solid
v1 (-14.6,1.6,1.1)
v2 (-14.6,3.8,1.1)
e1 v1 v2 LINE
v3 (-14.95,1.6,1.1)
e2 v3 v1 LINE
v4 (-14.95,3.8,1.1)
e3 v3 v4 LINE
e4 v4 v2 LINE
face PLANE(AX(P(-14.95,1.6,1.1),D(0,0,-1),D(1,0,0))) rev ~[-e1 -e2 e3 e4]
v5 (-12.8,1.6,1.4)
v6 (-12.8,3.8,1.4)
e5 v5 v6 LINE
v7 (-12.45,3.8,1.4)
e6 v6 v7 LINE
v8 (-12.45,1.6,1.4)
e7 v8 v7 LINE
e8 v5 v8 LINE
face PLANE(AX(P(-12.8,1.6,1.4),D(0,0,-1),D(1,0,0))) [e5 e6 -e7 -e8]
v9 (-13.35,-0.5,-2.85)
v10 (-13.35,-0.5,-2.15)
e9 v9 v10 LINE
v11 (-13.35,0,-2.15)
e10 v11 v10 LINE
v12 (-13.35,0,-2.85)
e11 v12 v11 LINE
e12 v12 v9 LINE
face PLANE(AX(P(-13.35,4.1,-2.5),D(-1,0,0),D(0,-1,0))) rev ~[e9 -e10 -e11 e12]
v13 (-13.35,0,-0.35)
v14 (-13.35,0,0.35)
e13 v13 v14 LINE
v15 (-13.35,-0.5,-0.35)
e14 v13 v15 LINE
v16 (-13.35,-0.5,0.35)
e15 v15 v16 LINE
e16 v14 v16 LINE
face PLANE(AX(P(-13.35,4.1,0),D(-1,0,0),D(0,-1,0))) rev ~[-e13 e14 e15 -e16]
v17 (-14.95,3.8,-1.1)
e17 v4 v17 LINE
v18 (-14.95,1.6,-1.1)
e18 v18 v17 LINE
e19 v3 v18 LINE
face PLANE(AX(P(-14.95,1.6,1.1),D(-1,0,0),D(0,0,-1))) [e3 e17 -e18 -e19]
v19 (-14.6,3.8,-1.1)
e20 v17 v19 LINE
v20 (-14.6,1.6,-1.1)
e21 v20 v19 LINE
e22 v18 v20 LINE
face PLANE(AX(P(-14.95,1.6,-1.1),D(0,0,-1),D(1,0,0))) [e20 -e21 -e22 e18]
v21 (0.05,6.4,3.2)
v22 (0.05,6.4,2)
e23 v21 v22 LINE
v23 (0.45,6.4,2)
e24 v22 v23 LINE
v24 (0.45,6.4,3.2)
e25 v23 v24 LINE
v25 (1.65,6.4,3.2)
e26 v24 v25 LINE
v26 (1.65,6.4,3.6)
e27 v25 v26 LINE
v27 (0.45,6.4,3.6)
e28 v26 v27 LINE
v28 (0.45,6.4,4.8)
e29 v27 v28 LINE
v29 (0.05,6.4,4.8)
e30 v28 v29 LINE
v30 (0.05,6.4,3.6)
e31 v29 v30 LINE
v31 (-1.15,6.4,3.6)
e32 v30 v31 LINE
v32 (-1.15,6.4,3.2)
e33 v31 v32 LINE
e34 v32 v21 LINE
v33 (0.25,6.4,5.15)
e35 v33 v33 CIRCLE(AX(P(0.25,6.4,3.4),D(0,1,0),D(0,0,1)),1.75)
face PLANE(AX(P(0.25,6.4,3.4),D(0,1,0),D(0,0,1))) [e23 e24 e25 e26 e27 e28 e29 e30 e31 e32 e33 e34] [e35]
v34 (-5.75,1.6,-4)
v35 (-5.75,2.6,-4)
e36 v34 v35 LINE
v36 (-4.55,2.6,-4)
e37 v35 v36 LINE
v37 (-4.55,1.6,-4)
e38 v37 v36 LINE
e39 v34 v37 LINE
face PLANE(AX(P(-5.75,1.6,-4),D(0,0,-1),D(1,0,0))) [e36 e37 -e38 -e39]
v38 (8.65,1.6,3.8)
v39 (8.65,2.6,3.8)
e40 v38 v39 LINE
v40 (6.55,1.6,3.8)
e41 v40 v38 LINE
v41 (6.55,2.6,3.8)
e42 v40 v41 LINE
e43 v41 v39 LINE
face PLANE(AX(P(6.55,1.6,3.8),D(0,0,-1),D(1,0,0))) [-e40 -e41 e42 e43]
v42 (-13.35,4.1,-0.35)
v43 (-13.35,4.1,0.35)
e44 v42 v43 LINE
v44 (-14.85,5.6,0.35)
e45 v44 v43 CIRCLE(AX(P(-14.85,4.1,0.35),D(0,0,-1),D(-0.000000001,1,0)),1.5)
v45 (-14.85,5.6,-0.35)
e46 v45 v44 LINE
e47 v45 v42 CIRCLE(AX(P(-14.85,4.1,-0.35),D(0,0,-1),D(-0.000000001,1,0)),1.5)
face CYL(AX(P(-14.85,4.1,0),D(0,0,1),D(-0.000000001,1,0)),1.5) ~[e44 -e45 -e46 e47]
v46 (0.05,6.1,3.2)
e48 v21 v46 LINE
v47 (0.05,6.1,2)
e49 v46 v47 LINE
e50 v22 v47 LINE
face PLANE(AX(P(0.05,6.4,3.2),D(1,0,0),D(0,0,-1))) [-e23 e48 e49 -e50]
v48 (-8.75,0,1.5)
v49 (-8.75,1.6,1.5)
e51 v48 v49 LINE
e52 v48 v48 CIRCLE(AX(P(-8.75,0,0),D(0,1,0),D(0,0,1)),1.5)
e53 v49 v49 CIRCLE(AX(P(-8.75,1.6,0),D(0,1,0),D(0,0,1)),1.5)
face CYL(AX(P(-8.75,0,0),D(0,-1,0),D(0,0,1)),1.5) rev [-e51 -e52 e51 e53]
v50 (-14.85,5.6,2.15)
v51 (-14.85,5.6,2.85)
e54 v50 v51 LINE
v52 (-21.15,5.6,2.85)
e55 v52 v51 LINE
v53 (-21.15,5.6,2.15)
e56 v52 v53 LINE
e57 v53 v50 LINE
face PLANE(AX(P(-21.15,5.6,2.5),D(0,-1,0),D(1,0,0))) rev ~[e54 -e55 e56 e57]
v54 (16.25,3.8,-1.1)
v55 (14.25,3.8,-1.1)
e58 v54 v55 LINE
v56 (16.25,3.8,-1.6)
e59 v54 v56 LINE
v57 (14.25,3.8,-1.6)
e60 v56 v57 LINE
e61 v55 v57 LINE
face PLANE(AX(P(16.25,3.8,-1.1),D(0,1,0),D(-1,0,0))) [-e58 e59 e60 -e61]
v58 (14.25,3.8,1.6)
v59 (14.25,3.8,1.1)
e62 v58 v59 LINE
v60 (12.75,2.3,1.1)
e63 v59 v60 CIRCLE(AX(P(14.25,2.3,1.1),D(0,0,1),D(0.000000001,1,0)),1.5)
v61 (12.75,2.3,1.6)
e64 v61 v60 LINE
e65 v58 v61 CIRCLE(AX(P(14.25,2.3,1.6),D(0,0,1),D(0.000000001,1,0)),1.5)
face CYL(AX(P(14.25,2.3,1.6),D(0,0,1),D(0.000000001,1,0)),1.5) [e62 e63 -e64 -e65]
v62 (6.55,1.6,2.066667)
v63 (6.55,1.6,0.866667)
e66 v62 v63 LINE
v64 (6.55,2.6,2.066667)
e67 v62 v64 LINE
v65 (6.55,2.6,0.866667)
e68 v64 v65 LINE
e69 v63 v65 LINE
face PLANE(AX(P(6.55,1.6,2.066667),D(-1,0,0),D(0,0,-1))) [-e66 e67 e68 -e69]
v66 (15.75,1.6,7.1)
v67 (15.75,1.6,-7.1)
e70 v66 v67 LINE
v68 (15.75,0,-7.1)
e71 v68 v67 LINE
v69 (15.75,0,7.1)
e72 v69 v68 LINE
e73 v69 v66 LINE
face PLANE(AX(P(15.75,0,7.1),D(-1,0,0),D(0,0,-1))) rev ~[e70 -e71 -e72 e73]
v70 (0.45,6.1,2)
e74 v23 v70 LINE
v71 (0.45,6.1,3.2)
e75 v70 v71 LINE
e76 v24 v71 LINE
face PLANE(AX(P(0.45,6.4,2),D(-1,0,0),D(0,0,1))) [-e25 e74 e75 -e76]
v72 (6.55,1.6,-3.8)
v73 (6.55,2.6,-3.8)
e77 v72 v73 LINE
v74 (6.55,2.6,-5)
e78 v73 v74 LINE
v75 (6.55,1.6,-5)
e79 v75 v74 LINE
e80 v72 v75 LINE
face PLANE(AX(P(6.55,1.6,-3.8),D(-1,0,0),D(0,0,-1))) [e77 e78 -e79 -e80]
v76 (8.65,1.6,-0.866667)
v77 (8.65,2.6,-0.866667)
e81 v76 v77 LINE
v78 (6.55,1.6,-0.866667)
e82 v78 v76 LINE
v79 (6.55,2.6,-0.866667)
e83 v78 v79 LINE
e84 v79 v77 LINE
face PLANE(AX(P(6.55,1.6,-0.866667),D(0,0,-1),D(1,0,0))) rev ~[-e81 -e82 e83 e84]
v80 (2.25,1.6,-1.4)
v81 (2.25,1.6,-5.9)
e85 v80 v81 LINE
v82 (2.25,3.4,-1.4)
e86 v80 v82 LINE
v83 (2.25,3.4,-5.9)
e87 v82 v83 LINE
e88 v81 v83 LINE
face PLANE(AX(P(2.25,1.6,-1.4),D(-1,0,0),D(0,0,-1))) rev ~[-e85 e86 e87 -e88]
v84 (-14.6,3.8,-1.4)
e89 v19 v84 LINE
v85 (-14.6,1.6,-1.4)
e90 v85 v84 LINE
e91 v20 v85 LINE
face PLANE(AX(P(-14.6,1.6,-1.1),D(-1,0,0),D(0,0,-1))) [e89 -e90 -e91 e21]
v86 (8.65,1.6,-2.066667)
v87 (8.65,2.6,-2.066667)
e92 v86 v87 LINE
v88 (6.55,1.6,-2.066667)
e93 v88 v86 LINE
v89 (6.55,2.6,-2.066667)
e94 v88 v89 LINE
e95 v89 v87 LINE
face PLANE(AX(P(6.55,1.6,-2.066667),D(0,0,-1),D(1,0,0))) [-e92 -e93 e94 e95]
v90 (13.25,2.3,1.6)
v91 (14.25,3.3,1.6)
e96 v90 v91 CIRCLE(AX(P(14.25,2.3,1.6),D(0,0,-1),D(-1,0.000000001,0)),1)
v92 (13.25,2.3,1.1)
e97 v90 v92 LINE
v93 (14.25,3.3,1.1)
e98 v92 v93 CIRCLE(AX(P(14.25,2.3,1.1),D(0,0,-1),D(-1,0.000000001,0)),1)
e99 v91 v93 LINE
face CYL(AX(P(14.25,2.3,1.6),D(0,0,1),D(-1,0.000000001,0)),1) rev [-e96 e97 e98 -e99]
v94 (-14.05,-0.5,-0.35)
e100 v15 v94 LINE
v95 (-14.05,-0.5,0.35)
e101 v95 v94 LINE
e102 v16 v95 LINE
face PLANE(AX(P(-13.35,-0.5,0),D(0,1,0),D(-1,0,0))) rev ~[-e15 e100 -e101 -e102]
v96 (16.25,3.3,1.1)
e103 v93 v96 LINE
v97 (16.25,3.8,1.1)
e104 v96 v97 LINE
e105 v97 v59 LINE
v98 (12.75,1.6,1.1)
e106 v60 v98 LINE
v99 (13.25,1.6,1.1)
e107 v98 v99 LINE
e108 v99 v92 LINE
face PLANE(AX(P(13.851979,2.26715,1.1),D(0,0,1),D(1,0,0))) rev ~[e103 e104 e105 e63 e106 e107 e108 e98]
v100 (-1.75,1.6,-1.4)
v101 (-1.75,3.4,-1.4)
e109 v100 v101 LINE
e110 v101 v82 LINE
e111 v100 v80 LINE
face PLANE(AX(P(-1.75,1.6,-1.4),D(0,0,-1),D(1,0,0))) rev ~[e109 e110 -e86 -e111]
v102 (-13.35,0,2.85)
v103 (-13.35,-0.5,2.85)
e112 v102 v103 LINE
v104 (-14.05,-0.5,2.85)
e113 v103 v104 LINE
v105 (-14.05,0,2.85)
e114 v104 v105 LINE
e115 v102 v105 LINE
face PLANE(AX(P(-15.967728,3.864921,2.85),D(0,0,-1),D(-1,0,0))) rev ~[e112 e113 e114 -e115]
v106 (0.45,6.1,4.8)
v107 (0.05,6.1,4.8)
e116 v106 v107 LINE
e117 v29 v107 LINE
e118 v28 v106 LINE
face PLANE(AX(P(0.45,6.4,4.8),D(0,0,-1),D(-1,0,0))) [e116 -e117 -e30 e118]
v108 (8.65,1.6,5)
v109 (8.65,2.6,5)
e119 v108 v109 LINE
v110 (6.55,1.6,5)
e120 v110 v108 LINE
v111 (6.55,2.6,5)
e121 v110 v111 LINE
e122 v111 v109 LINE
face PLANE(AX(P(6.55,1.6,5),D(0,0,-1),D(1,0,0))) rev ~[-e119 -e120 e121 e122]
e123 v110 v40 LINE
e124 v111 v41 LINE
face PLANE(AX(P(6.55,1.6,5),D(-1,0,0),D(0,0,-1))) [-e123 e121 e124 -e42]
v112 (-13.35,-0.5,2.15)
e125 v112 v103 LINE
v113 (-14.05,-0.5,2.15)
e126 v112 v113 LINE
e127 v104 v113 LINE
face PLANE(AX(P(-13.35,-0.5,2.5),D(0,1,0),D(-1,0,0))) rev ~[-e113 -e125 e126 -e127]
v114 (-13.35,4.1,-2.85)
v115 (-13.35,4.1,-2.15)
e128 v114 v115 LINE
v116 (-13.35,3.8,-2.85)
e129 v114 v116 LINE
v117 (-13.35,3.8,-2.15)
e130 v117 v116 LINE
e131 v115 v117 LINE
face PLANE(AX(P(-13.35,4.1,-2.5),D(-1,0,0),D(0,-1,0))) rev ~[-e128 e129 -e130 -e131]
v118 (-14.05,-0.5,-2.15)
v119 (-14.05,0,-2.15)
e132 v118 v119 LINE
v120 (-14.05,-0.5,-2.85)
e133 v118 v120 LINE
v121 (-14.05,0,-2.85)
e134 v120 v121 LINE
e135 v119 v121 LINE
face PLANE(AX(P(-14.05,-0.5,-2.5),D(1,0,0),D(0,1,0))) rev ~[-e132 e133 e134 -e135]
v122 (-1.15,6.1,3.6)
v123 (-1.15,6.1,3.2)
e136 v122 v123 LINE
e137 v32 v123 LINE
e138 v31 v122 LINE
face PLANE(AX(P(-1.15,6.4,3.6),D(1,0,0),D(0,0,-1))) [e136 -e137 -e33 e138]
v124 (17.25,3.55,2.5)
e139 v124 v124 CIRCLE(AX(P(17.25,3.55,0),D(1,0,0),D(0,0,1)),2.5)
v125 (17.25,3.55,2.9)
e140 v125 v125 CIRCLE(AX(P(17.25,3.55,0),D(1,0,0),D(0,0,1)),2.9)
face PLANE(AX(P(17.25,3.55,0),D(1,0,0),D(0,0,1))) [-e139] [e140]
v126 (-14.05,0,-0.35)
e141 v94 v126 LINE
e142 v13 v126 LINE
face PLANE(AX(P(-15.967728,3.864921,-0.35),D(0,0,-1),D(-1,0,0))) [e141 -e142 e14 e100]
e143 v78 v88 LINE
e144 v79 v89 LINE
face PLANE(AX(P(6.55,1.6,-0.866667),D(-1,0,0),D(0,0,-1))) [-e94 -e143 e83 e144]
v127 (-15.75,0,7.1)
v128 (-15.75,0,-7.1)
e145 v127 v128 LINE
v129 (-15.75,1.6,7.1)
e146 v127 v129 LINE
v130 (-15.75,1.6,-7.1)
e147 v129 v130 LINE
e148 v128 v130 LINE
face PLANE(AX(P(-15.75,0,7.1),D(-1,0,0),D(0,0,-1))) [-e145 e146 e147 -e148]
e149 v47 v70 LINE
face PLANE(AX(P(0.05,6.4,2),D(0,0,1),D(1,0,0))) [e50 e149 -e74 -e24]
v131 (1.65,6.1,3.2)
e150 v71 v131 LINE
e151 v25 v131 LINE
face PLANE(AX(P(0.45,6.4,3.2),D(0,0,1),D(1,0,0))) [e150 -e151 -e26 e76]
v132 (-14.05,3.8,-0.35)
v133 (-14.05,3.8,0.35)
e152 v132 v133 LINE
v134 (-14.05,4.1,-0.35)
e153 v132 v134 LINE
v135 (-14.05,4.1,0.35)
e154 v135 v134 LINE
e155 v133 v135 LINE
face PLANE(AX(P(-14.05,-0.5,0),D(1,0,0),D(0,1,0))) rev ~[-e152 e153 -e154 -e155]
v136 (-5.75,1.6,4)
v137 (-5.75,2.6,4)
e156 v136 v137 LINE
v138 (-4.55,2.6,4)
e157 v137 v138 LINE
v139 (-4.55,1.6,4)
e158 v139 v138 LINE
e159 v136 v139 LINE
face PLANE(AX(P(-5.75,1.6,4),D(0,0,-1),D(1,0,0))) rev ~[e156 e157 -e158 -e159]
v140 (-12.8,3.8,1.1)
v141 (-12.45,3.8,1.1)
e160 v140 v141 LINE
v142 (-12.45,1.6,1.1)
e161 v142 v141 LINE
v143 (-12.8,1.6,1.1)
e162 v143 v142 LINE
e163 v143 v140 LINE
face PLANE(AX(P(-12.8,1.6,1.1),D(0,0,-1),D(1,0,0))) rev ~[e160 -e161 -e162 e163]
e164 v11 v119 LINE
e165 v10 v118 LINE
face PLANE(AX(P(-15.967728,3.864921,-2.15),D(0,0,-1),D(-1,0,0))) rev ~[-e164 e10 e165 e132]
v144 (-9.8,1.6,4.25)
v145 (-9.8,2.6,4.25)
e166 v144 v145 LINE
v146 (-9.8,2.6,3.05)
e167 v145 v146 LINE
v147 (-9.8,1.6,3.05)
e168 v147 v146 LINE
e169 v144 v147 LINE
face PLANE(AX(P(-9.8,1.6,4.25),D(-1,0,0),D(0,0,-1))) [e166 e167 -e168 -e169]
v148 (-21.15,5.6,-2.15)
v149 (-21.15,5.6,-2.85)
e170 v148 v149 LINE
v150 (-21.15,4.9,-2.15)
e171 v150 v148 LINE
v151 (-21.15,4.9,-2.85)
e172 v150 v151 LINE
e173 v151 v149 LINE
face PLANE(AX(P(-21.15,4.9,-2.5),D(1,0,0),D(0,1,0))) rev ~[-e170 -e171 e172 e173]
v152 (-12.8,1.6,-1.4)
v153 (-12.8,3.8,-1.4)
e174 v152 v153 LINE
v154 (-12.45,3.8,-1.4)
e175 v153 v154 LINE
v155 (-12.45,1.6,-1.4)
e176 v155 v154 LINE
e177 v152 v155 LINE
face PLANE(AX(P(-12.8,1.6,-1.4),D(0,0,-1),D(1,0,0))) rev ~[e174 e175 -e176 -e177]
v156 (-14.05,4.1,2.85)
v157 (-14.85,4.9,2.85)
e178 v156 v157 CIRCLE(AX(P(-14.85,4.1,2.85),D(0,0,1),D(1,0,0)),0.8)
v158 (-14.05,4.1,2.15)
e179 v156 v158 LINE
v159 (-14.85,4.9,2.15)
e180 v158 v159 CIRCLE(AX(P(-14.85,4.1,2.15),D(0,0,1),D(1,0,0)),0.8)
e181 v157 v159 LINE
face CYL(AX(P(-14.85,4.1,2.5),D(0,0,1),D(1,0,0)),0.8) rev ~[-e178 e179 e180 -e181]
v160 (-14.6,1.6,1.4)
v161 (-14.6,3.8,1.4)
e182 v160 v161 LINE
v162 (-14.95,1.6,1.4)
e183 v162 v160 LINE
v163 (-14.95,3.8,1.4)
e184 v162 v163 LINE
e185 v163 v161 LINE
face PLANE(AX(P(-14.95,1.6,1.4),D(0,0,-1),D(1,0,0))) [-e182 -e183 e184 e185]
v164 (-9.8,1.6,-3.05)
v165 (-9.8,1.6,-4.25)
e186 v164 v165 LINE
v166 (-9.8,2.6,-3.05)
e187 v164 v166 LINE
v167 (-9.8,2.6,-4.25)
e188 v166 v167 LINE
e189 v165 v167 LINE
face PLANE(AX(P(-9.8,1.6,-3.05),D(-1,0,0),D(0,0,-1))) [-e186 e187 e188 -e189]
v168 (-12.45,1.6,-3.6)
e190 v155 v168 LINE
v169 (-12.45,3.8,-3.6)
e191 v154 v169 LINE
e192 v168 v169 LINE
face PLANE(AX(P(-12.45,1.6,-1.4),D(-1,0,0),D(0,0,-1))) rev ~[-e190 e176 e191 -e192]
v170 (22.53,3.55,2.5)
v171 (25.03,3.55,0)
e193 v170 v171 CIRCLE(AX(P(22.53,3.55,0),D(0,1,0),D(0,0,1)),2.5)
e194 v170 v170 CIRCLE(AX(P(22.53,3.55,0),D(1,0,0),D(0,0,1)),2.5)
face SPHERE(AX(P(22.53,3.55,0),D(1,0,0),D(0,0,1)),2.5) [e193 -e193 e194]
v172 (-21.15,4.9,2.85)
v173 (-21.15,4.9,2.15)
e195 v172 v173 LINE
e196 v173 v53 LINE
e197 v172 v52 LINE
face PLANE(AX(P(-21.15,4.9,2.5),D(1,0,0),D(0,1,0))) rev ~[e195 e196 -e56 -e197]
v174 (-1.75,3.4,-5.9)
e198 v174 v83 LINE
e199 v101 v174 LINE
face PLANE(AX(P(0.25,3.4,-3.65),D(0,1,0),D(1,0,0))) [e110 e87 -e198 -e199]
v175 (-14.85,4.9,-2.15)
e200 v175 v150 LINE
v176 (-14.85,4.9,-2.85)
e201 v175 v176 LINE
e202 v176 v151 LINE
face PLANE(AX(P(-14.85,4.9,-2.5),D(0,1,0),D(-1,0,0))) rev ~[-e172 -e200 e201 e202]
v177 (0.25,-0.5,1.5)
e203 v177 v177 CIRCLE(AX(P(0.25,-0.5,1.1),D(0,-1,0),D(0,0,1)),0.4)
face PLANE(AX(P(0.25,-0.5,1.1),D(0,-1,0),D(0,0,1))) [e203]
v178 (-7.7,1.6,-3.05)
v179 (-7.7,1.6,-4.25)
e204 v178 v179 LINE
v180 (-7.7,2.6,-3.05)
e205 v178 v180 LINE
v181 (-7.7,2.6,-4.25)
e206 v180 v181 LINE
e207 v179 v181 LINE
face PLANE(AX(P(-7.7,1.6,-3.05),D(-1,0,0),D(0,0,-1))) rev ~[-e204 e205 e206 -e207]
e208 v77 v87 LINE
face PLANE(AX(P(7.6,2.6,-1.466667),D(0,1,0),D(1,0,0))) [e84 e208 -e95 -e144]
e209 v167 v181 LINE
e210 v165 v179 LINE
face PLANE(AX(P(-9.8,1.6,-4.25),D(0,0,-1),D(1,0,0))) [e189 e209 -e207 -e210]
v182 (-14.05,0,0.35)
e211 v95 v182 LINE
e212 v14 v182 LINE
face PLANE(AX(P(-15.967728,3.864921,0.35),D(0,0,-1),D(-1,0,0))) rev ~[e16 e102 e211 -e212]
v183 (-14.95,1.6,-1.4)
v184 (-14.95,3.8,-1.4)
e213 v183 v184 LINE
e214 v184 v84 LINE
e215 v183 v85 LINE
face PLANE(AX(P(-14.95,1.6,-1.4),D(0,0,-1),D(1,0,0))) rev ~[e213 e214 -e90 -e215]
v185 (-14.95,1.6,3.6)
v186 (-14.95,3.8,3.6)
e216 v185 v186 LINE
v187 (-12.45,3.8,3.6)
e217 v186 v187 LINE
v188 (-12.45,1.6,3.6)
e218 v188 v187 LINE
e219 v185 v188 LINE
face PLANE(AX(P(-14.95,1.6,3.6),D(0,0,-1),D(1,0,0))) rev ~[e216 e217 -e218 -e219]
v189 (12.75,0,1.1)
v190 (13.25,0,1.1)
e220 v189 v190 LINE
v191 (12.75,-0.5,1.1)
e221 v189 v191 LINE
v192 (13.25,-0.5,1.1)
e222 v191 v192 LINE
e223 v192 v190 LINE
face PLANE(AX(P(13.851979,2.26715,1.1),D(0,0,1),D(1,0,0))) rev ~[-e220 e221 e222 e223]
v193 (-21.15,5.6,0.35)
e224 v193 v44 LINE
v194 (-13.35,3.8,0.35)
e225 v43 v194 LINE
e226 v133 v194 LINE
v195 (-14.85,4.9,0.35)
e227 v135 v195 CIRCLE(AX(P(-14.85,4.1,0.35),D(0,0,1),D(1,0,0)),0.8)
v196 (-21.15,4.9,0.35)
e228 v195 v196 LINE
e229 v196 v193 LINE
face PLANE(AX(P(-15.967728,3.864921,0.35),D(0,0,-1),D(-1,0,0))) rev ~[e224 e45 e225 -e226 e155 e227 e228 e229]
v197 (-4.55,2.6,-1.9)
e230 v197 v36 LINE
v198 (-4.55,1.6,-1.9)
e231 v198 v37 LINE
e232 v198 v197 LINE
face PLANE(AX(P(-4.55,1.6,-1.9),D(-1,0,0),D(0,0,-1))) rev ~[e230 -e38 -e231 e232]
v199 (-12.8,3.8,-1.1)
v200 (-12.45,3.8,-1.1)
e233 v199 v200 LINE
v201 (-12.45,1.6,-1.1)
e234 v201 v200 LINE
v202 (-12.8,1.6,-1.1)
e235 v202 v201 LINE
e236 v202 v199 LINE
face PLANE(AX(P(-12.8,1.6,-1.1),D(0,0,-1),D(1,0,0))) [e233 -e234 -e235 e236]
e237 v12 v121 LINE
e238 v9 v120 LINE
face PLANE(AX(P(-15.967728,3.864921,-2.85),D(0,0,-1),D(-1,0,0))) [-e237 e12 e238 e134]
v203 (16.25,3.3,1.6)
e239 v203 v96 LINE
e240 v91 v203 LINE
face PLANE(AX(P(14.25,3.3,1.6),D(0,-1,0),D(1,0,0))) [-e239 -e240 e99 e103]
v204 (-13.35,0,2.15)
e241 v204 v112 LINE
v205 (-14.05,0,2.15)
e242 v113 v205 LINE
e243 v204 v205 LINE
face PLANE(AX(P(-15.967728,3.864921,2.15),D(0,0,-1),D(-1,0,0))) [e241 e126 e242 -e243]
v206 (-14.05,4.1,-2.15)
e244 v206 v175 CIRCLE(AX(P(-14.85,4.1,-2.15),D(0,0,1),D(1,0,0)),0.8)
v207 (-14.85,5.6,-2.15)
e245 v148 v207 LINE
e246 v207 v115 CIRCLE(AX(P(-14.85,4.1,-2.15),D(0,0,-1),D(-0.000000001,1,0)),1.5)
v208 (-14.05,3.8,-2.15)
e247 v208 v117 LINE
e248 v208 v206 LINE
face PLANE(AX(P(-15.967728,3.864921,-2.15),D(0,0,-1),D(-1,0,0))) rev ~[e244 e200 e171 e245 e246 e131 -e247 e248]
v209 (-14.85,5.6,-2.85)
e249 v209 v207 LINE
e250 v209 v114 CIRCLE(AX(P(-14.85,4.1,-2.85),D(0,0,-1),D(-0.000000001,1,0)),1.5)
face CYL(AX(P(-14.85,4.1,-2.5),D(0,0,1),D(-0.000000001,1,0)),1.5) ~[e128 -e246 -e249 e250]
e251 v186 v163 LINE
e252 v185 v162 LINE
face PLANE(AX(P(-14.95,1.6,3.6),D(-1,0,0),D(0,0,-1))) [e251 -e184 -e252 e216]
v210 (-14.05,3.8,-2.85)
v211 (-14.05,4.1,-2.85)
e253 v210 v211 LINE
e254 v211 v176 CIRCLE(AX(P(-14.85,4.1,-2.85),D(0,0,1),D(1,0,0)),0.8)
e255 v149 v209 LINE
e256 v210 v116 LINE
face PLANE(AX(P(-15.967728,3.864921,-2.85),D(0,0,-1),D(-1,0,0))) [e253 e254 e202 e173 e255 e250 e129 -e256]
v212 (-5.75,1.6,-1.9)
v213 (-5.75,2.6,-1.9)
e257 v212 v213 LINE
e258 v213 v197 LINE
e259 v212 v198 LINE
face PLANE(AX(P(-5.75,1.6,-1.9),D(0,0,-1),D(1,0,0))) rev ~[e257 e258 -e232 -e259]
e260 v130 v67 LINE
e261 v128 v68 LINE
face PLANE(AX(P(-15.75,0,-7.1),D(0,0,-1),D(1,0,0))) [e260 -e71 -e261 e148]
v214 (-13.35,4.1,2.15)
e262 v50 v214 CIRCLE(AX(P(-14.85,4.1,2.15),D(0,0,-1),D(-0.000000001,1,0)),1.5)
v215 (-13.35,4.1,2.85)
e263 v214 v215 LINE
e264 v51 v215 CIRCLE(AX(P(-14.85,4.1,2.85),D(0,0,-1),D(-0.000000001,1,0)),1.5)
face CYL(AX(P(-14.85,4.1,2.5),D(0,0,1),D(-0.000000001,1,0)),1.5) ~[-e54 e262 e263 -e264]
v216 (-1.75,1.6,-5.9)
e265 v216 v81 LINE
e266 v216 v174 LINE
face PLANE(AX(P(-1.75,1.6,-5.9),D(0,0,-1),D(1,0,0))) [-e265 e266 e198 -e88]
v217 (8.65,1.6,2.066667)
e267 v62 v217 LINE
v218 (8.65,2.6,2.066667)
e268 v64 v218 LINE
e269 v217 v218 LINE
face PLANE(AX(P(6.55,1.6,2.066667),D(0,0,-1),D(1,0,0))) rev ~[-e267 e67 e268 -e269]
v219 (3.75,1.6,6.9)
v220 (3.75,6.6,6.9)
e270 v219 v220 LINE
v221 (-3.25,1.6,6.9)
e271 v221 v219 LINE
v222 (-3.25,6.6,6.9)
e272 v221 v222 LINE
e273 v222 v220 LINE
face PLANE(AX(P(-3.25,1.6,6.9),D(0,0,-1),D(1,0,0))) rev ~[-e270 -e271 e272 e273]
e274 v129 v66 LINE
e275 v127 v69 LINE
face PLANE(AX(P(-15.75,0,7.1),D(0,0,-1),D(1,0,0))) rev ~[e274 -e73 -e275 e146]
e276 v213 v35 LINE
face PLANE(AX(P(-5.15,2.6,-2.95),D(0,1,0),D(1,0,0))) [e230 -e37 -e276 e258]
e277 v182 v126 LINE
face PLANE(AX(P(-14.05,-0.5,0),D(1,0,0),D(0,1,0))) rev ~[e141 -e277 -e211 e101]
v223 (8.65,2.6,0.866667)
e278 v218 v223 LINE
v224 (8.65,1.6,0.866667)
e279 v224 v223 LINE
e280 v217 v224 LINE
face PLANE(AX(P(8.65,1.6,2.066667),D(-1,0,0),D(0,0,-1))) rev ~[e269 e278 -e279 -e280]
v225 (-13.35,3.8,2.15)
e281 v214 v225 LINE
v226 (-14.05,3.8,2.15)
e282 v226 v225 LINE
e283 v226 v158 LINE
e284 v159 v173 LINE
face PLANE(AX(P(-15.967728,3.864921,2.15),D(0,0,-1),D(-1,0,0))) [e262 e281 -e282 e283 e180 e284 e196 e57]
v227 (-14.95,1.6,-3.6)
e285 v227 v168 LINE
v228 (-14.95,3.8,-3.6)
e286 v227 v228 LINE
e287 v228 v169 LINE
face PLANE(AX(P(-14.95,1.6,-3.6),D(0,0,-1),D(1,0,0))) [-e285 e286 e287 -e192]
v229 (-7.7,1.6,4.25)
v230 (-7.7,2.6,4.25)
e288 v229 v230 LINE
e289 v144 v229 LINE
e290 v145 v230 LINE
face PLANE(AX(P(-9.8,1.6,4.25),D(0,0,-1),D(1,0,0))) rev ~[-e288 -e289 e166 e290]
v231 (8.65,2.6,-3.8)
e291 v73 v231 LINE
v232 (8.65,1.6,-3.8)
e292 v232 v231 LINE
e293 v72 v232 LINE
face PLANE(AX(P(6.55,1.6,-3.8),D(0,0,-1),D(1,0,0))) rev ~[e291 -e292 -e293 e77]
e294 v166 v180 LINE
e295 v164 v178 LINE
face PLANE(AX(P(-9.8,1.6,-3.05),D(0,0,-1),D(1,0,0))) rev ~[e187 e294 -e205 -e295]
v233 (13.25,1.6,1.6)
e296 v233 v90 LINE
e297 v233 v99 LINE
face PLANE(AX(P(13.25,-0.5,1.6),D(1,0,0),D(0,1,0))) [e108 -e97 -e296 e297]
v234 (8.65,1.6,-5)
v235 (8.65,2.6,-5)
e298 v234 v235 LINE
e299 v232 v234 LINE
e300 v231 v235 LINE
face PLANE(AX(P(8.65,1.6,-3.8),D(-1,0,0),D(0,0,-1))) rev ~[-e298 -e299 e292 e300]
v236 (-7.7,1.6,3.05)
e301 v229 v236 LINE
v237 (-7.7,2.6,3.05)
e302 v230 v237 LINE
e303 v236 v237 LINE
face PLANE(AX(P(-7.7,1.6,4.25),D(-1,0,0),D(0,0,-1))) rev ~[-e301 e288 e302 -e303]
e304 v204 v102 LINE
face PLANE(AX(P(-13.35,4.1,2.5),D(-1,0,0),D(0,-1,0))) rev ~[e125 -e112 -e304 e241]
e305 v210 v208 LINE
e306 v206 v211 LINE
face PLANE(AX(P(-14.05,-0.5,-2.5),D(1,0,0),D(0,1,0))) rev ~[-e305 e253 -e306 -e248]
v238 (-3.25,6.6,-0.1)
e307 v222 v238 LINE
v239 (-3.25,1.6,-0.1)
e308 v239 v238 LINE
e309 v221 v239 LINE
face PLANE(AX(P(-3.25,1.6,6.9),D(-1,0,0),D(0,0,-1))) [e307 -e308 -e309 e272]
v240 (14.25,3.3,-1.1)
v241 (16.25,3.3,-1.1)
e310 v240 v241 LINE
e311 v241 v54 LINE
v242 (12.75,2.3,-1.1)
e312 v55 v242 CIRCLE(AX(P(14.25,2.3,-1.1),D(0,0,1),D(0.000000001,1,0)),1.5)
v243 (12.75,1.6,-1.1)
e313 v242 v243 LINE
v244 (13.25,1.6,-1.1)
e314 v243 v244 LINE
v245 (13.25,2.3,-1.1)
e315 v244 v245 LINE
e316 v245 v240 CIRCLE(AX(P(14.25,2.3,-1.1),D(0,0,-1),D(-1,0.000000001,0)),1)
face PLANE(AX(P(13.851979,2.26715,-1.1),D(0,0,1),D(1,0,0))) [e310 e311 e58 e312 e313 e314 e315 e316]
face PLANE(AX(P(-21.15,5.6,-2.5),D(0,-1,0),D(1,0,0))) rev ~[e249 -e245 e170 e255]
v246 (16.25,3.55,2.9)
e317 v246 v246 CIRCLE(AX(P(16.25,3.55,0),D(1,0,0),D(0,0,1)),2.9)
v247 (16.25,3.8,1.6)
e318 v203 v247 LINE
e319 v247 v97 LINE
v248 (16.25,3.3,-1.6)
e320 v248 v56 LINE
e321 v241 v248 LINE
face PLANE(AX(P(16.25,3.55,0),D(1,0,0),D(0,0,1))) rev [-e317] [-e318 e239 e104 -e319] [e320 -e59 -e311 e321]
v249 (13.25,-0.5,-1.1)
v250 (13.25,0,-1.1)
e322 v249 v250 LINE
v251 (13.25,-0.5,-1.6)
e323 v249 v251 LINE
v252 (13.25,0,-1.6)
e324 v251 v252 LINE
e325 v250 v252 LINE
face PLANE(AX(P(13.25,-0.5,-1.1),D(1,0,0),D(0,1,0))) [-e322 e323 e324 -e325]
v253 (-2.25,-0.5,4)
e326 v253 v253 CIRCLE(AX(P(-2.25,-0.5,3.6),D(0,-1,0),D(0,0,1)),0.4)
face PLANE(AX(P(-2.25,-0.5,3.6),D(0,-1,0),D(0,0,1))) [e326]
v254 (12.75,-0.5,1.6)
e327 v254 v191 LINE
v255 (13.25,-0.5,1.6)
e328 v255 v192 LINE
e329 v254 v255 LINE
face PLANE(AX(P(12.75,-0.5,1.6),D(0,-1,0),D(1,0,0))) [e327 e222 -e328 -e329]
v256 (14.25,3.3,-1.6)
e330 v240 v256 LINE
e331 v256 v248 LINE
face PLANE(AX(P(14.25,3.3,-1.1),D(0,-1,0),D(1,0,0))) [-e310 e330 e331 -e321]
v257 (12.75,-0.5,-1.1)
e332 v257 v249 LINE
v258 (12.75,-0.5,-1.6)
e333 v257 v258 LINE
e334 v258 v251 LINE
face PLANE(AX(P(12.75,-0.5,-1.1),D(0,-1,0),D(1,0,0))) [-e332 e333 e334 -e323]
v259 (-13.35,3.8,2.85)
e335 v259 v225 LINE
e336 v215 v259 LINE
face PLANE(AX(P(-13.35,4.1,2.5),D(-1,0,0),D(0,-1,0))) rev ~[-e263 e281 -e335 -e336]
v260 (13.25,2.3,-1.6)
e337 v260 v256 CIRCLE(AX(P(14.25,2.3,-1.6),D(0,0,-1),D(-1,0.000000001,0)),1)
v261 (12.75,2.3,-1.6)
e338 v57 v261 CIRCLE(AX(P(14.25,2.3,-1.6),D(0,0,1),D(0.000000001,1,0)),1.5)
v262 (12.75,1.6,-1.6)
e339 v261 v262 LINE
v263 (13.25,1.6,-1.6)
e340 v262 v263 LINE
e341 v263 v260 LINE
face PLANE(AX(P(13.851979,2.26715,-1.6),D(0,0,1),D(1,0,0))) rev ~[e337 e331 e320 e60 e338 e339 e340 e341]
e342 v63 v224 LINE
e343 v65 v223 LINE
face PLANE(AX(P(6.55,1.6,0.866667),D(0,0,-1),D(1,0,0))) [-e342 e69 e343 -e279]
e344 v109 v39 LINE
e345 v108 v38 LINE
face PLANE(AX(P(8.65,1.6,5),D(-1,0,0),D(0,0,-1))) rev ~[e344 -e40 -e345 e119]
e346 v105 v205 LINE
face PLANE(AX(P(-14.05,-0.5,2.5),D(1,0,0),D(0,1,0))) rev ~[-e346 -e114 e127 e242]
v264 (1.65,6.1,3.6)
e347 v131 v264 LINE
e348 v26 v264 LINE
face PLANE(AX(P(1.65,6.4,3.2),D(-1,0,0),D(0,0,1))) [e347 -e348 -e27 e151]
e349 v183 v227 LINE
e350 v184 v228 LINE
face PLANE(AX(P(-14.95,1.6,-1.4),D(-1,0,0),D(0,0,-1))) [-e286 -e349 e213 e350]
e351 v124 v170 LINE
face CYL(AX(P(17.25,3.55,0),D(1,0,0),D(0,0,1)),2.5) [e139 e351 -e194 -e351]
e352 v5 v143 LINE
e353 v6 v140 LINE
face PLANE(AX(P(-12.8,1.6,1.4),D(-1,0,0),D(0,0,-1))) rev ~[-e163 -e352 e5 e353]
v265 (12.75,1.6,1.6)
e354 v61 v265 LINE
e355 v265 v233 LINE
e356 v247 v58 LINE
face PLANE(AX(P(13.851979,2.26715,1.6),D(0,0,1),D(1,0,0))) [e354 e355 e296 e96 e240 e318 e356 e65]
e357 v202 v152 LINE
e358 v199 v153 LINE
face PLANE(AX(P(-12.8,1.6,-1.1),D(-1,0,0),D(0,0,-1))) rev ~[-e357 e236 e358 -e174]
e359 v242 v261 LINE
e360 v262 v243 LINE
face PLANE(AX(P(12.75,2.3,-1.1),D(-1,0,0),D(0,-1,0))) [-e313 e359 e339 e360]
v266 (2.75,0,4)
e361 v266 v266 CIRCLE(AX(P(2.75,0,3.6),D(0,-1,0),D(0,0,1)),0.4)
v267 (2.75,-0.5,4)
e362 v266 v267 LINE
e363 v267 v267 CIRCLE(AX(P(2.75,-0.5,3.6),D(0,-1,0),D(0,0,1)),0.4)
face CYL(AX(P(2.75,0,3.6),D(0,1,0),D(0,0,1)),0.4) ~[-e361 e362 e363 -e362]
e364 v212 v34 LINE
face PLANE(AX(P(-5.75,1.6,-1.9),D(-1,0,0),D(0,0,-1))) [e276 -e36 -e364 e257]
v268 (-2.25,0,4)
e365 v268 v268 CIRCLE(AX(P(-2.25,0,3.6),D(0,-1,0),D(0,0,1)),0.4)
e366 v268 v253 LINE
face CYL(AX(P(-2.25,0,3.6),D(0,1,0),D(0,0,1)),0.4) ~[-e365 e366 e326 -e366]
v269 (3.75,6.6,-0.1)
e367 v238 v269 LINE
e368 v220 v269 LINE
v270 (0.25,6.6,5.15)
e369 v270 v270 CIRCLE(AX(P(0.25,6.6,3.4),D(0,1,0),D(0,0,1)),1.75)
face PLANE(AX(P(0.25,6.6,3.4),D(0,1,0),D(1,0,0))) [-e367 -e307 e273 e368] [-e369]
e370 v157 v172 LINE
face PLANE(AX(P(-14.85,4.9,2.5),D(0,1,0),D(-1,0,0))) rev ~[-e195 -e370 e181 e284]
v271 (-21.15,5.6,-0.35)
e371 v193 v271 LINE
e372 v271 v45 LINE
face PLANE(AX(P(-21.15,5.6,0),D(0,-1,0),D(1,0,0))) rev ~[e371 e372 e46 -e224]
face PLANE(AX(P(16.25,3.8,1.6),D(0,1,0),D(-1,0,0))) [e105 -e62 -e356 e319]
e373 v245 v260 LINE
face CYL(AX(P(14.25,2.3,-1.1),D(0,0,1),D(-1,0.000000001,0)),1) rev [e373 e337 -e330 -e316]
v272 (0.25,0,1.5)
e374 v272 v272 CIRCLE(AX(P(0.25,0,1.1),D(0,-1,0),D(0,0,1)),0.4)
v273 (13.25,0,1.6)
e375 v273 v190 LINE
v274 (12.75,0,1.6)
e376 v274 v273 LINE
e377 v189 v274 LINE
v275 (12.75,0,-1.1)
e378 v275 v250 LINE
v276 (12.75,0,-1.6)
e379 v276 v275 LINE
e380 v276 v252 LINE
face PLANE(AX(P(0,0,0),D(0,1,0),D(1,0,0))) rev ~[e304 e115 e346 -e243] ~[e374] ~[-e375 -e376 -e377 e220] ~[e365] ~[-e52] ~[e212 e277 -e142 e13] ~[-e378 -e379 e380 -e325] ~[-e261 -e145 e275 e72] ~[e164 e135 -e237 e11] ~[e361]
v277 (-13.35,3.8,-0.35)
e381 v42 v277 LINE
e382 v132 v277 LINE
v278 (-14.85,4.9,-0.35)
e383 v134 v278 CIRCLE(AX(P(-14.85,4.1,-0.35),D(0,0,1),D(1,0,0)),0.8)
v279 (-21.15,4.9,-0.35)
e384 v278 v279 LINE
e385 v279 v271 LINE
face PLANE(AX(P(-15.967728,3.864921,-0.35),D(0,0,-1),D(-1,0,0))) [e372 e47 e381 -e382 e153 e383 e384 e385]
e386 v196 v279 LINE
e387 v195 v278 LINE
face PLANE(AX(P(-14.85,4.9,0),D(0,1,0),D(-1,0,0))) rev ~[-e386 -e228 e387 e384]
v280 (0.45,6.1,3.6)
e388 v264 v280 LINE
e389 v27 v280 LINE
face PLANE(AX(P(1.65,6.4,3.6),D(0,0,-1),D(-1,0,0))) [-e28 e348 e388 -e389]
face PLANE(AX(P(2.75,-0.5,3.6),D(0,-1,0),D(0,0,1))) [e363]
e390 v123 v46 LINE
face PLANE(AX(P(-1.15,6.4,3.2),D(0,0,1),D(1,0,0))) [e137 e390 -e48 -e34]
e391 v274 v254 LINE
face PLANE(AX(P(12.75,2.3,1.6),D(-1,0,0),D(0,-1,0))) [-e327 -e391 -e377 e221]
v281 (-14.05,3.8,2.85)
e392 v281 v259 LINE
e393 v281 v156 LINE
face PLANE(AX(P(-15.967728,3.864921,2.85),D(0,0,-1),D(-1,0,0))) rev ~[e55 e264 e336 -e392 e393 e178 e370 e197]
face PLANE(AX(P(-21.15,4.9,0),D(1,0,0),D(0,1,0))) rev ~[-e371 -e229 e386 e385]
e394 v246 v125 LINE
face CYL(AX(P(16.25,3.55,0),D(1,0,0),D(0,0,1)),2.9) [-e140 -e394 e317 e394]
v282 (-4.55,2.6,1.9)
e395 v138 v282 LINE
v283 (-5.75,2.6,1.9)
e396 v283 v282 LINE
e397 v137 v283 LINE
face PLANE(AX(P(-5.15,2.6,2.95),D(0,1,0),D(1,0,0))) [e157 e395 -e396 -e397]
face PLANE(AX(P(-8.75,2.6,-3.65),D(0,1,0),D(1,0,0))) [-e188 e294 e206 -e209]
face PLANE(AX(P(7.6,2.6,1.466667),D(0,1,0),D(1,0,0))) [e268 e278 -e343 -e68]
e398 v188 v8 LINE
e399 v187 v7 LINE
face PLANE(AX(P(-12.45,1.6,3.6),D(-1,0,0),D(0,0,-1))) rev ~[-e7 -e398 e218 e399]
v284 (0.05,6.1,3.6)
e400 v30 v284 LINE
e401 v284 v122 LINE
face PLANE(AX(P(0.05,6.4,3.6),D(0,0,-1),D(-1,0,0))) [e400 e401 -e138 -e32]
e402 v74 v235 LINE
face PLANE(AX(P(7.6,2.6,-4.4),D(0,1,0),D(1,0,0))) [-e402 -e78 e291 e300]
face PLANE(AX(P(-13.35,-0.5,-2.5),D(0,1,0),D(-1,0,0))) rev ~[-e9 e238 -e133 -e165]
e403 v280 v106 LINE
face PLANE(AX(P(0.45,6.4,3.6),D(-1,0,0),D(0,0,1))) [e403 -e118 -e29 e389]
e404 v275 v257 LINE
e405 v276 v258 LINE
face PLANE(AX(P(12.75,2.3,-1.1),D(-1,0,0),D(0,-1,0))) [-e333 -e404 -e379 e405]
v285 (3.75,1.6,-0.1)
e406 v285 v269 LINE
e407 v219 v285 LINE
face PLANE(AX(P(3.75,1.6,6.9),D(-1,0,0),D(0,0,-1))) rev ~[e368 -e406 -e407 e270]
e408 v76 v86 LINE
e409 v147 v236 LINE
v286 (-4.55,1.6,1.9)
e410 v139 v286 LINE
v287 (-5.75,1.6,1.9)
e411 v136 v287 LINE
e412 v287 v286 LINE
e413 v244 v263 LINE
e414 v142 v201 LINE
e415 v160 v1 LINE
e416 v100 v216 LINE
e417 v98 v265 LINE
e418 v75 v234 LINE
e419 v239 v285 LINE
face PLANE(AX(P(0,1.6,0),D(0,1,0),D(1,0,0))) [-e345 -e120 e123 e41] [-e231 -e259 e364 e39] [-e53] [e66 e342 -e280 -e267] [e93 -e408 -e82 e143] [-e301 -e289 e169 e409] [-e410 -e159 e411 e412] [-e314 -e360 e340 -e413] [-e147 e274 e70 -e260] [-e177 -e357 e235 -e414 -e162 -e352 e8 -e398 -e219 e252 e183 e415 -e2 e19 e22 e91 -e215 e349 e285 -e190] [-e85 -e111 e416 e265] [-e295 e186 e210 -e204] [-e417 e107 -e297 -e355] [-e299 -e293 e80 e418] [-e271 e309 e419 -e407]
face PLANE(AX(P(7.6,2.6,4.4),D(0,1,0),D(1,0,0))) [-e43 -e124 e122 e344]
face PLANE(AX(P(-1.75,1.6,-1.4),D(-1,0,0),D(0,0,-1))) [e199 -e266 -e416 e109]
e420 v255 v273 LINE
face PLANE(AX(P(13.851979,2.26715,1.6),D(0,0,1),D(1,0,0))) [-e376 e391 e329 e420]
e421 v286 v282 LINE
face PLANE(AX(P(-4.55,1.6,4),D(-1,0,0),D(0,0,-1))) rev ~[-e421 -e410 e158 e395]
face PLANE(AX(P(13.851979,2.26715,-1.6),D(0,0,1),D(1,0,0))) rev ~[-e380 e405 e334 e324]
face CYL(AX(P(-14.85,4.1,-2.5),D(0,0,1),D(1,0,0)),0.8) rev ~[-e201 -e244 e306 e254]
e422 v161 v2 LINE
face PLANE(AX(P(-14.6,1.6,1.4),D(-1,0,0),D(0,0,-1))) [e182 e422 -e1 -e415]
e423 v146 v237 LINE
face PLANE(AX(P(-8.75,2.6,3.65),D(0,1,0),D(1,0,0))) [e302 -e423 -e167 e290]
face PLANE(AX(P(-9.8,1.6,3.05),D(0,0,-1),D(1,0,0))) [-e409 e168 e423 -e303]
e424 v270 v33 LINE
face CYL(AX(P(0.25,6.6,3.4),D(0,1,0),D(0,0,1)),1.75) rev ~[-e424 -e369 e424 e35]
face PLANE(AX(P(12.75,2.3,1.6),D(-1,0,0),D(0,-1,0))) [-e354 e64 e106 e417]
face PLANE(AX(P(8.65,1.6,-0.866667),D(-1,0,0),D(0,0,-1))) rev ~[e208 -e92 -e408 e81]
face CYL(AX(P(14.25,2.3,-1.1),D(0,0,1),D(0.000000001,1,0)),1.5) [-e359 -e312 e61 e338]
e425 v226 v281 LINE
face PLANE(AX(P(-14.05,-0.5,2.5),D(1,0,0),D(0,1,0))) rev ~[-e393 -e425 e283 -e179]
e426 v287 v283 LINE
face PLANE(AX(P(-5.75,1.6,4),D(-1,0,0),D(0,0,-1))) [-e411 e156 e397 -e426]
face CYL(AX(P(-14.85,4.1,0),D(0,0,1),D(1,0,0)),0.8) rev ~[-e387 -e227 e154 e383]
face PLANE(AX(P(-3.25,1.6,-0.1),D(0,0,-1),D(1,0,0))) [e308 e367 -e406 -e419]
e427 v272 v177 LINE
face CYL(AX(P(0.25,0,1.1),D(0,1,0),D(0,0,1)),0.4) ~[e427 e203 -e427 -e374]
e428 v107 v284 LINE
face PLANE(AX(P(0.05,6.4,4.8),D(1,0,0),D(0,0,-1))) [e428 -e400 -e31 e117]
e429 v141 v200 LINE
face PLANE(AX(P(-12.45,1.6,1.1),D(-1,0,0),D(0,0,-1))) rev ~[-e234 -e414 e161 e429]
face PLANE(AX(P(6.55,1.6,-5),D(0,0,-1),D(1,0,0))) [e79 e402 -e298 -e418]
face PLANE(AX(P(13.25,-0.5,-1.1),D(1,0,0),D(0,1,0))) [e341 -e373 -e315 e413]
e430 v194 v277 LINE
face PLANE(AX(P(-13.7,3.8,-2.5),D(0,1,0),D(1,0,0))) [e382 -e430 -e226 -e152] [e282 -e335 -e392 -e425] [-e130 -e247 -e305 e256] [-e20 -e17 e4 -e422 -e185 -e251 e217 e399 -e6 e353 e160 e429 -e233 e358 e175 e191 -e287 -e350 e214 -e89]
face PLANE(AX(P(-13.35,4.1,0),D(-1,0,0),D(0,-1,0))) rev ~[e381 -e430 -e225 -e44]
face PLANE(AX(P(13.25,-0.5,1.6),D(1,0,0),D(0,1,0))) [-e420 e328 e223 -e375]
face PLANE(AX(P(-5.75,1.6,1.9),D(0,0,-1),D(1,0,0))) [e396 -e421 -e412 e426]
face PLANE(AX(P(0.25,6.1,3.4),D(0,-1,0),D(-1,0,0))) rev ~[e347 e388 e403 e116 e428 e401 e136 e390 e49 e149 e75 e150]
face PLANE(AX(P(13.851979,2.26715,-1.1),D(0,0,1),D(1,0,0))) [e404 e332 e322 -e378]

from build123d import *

# Parameters (mm, degrees)
SKETCH_1_W             = 31.5
SKETCH_1_H             = 14.2
SKETCH_1_R             = 1.5
EXTRUDE_1_DEPTH        = 1.6
SKETCH_2_W             = 7
SKETCH_2_H             = 7
EXTRUDE_2_DEPTH        = 5
SKETCH_3_R             = 1.75
CUT_EXTRUDE_1_DEPTH    = 0.2
CUT_EXTRUDE_2_DEPTH    = 0.3
SKETCH_6_W             = 4
SKETCH_6_H             = 4.5
EXTRUDE_3_DEPTH        = 1.8
SKETCH_7_W             = 2.1
SKETCH_7_H             = 1.2
SKETCH_7_W_2           = 1.2
SKETCH_7_H_2           = 2.1
EXTRUDE_4_DEPTH        = 1
EXTRUDE_START          = 1.6
EXTRUDE_5_DEPTH        = 0.5
PATTERN_LINEAR_1_COUNT = 2
PATTERN_LINEAR_1_PITCH = 2.7
EXTRUDE_6_DEPTH        = 0.35
PATTERN_LINEAR_2_COUNT = 2
PATTERN_LINEAR_2_PITCH = 2.5
PATTERN_LINEAR_3_COUNT = 2
PATTERN_LINEAR_3_PITCH = 2.5
SKETCH_12_W            = 2.5
SKETCH_12_H            = 2.2
SKETCH_12_W_2          = 1.8
SKETCH_12_H_2          = 0.3
EXTRUDE_7_DEPTH        = 2.2
SKETCH_13_R            = 0.4
EXTRUDE_8_DEPTH        = 0.5


with BuildPart() as part:
    # Эскиз1 → Бобышка-Вытянуть1 (new body)
    with BuildSketch(Plane(origin=(0, 0, 0), x_dir=(1, 0, 0), z_dir=(0, 1, 0))):
        Rectangle(SKETCH_1_W, SKETCH_1_H)
        with Locations(Location((-8.75, 0, 0), (0, 0, 270))):
            Circle(SKETCH_1_R, mode=Mode.SUBTRACT)
    extrude(amount=EXTRUDE_1_DEPTH)

    # Эскиз2 → Бобышка-Вытянуть2 (add)
    with BuildSketch(Plane(origin=(0, 1.6, 0), x_dir=(1, 0, 0), z_dir=(0, 1, 0))):
        with Locations((0.25, -3.4)):
            Rectangle(SKETCH_2_W, SKETCH_2_H)
    extrude(amount=EXTRUDE_2_DEPTH)

    # Эскиз3 → Вырез-Вытянуть1 (cut)
    with BuildSketch(Plane(origin=(0, 6.6, 0), x_dir=(1, 0, 0), z_dir=(0, 1, 0))):
        with Locations(Location((0.25, -3.4, 0), (0, 0, 270))):
            Circle(SKETCH_3_R)
    extrude(amount=-CUT_EXTRUDE_1_DEPTH, mode=Mode.SUBTRACT)

    # Эскиз4 → Вырез-Вытянуть2 (cut)
    with BuildSketch(Plane(origin=(0, 6.4, 0), x_dir=(1, 0, 0), z_dir=(0, 1, 0))):
        Polygon((0.05, -2), (0.45, -2), (0.45, -3.2), (1.65, -3.2), (1.65, -3.6), (0.45, -3.6), (0.45, -4.8), (0.05, -4.8), (0.05, -3.6), (-1.15, -3.6), (-1.15, -3.2), (0.05, -3.2), align=None)
    extrude(amount=-CUT_EXTRUDE_2_DEPTH, mode=Mode.SUBTRACT)

    # Эскиз6 → Бобышка-Вытянуть3 (add)
    with BuildSketch(Plane(origin=(0, 1.6, 0), x_dir=(1, 0, 0), z_dir=(0, 1, 0))):
        with Locations((0.25, 3.65)):
            Rectangle(SKETCH_6_W, SKETCH_6_H)
    extrude(amount=EXTRUDE_3_DEPTH)

    # Эскиз7 → Бобышка-Вытянуть4 (add)
    with BuildSketch(Plane(origin=(0, 1.6, 0), x_dir=(1, 0, 0), z_dir=(0, 1, 0))):
        with Locations((7.6, 1.466666667)):
            Rectangle(SKETCH_7_W, SKETCH_7_H)
        with Locations((7.6, 4.4)):
            Rectangle(SKETCH_7_W, SKETCH_7_H)
        with Locations((-8.75, 3.65)):
            Rectangle(SKETCH_7_W, SKETCH_7_H)
        with Locations((-5.15, 2.95)):
            Rectangle(SKETCH_7_W_2, SKETCH_7_H_2)
        with Locations((-5.15, -2.95)):
            Rectangle(SKETCH_7_W_2, SKETCH_7_H_2)
        with Locations((-8.75, -3.65)):
            Rectangle(SKETCH_7_W, SKETCH_7_H)
        with Locations((7.6, -4.4)):
            Rectangle(SKETCH_7_W, SKETCH_7_H)
        with Locations((7.6, -1.466666667)):
            Rectangle(SKETCH_7_W, SKETCH_7_H)
    extrude(amount=EXTRUDE_4_DEPTH)

    # Эскиз9 → Бобышка-Вытянуть5 (add)
    with BuildSketch(Plane.XY.offset(EXTRUDE_START)):
        with BuildLine():
            Line((12.75, 2.3), (12.75, -0.5))
            Line((12.75, -0.5), (13.25, -0.5))
            Line((13.25, -0.5), (13.25, 2.3))
            ThreePointArc((13.25, 2.3), (13.542893219, 3.007106781), (14.25, 3.3))
            Line((14.25, 3.3), (16.25, 3.3))
            Line((16.25, 3.3), (16.25, 3.8))
            Line((16.25, 3.8), (14.25, 3.8))
            ThreePointArc((14.25, 3.8), (13.189339828, 3.360660172), (12.75, 2.3))
        make_face()
    extrude_5 = extrude(amount=-EXTRUDE_5_DEPTH)

    # Линейный массив1: Бобышка-Вытянуть5 ×2
    with Locations(*[(0, 0, -i * PATTERN_LINEAR_1_PITCH) for i in range(1, PATTERN_LINEAR_1_COUNT)]):
        add(extrude_5)

    # Эскиз10 → Повернуть1 (revolve)
    with BuildSketch(Plane.XY, mode=Mode.PRIVATE) as revolve_1_sk:
        with BuildLine():
            Line((16.25, 3.55), (16.25, 6.45))
            Line((16.25, 6.45), (17.25, 6.45))
            Line((17.25, 6.45), (17.25, 6.05))
            Line((17.25, 6.05), (22.53, 6.05))
            ThreePointArc((22.53, 6.05), (24.297766953, 5.317766953), (25.03, 3.55))
            Line((25.03, 3.55), (16.25, 3.55))
        make_face()
    revolve(revolve_1_sk.sketch.rotate(Axis((16.25, 3.55, 0), (1, 0, 0)), 90), axis=Axis((16.25, 3.55, 0), (1, 0, 0)))

    # Эскиз11 → Бобышка-Вытянуть6 (add, symmetric)
    with BuildSketch(Plane.XY):
        with BuildLine():
            Line((-13.35, -0.5), (-14.05, -0.5))
            Line((-14.05, -0.5), (-14.05, 4.1))
            ThreePointArc((-14.05, 4.1), (-14.284314575, 4.665685425), (-14.85, 4.9))
            Line((-14.85, 4.9), (-21.15, 4.9))
            Line((-21.15, 4.9), (-21.15, 5.6))
            Line((-21.15, 5.6), (-14.85, 5.6))
            ThreePointArc((-14.85, 5.6), (-13.789339828, 5.160660172), (-13.35, 4.1))
            Line((-13.35, 4.1), (-13.35, -0.5))
        make_face()
    extrude_6 = extrude(amount=EXTRUDE_6_DEPTH, both=True)

    # Линейный массив2: Бобышка-Вытянуть6 ×2
    with Locations(*[(0, 0, i * PATTERN_LINEAR_2_PITCH) for i in range(1, PATTERN_LINEAR_2_COUNT)]):
        add(extrude_6)

    # Линейный массив3: Бобышка-Вытянуть6 ×2
    with Locations(*[(0, 0, -i * PATTERN_LINEAR_3_PITCH) for i in range(1, PATTERN_LINEAR_3_COUNT)]):
        add(extrude_6)

    # Эскиз12 → Бобышка-Вытянуть7 (add)
    with BuildSketch(Plane(origin=(0, 1.6, 0), x_dir=(1, 0, 0), z_dir=(0, 1, 0))):
        with Locations((-13.7, 2.5)):
            Rectangle(SKETCH_12_W, SKETCH_12_H)
        with Locations((-13.7, 1.25)):
            Rectangle(SKETCH_12_W_2, SKETCH_12_H_2)
        with Locations((-13.7, 0)):
            Rectangle(SKETCH_12_W, SKETCH_12_H)
        with Locations((-13.7, -1.25)):
            Rectangle(SKETCH_12_W_2, SKETCH_12_H_2)
        with Locations((-13.7, -2.5)):
            Rectangle(SKETCH_12_W, SKETCH_12_H)
    extrude(amount=EXTRUDE_7_DEPTH)

    # Эскиз13 → Бобышка-Вытянуть8 (add)
    with BuildSketch(Plane.XZ):
        with Locations(Location((-2.25, 3.6, 0), (0, 0, 90))):
            Circle(SKETCH_13_R)
        with Locations(Location((0.25, 1.1, 0), (0, 0, 90))):
            Circle(SKETCH_13_R)
        with Locations(Location((2.75, 3.6, 0), (0, 0, 90))):
            Circle(SKETCH_13_R)
    extrude(amount=EXTRUDE_8_DEPTH)


solid = part.part
